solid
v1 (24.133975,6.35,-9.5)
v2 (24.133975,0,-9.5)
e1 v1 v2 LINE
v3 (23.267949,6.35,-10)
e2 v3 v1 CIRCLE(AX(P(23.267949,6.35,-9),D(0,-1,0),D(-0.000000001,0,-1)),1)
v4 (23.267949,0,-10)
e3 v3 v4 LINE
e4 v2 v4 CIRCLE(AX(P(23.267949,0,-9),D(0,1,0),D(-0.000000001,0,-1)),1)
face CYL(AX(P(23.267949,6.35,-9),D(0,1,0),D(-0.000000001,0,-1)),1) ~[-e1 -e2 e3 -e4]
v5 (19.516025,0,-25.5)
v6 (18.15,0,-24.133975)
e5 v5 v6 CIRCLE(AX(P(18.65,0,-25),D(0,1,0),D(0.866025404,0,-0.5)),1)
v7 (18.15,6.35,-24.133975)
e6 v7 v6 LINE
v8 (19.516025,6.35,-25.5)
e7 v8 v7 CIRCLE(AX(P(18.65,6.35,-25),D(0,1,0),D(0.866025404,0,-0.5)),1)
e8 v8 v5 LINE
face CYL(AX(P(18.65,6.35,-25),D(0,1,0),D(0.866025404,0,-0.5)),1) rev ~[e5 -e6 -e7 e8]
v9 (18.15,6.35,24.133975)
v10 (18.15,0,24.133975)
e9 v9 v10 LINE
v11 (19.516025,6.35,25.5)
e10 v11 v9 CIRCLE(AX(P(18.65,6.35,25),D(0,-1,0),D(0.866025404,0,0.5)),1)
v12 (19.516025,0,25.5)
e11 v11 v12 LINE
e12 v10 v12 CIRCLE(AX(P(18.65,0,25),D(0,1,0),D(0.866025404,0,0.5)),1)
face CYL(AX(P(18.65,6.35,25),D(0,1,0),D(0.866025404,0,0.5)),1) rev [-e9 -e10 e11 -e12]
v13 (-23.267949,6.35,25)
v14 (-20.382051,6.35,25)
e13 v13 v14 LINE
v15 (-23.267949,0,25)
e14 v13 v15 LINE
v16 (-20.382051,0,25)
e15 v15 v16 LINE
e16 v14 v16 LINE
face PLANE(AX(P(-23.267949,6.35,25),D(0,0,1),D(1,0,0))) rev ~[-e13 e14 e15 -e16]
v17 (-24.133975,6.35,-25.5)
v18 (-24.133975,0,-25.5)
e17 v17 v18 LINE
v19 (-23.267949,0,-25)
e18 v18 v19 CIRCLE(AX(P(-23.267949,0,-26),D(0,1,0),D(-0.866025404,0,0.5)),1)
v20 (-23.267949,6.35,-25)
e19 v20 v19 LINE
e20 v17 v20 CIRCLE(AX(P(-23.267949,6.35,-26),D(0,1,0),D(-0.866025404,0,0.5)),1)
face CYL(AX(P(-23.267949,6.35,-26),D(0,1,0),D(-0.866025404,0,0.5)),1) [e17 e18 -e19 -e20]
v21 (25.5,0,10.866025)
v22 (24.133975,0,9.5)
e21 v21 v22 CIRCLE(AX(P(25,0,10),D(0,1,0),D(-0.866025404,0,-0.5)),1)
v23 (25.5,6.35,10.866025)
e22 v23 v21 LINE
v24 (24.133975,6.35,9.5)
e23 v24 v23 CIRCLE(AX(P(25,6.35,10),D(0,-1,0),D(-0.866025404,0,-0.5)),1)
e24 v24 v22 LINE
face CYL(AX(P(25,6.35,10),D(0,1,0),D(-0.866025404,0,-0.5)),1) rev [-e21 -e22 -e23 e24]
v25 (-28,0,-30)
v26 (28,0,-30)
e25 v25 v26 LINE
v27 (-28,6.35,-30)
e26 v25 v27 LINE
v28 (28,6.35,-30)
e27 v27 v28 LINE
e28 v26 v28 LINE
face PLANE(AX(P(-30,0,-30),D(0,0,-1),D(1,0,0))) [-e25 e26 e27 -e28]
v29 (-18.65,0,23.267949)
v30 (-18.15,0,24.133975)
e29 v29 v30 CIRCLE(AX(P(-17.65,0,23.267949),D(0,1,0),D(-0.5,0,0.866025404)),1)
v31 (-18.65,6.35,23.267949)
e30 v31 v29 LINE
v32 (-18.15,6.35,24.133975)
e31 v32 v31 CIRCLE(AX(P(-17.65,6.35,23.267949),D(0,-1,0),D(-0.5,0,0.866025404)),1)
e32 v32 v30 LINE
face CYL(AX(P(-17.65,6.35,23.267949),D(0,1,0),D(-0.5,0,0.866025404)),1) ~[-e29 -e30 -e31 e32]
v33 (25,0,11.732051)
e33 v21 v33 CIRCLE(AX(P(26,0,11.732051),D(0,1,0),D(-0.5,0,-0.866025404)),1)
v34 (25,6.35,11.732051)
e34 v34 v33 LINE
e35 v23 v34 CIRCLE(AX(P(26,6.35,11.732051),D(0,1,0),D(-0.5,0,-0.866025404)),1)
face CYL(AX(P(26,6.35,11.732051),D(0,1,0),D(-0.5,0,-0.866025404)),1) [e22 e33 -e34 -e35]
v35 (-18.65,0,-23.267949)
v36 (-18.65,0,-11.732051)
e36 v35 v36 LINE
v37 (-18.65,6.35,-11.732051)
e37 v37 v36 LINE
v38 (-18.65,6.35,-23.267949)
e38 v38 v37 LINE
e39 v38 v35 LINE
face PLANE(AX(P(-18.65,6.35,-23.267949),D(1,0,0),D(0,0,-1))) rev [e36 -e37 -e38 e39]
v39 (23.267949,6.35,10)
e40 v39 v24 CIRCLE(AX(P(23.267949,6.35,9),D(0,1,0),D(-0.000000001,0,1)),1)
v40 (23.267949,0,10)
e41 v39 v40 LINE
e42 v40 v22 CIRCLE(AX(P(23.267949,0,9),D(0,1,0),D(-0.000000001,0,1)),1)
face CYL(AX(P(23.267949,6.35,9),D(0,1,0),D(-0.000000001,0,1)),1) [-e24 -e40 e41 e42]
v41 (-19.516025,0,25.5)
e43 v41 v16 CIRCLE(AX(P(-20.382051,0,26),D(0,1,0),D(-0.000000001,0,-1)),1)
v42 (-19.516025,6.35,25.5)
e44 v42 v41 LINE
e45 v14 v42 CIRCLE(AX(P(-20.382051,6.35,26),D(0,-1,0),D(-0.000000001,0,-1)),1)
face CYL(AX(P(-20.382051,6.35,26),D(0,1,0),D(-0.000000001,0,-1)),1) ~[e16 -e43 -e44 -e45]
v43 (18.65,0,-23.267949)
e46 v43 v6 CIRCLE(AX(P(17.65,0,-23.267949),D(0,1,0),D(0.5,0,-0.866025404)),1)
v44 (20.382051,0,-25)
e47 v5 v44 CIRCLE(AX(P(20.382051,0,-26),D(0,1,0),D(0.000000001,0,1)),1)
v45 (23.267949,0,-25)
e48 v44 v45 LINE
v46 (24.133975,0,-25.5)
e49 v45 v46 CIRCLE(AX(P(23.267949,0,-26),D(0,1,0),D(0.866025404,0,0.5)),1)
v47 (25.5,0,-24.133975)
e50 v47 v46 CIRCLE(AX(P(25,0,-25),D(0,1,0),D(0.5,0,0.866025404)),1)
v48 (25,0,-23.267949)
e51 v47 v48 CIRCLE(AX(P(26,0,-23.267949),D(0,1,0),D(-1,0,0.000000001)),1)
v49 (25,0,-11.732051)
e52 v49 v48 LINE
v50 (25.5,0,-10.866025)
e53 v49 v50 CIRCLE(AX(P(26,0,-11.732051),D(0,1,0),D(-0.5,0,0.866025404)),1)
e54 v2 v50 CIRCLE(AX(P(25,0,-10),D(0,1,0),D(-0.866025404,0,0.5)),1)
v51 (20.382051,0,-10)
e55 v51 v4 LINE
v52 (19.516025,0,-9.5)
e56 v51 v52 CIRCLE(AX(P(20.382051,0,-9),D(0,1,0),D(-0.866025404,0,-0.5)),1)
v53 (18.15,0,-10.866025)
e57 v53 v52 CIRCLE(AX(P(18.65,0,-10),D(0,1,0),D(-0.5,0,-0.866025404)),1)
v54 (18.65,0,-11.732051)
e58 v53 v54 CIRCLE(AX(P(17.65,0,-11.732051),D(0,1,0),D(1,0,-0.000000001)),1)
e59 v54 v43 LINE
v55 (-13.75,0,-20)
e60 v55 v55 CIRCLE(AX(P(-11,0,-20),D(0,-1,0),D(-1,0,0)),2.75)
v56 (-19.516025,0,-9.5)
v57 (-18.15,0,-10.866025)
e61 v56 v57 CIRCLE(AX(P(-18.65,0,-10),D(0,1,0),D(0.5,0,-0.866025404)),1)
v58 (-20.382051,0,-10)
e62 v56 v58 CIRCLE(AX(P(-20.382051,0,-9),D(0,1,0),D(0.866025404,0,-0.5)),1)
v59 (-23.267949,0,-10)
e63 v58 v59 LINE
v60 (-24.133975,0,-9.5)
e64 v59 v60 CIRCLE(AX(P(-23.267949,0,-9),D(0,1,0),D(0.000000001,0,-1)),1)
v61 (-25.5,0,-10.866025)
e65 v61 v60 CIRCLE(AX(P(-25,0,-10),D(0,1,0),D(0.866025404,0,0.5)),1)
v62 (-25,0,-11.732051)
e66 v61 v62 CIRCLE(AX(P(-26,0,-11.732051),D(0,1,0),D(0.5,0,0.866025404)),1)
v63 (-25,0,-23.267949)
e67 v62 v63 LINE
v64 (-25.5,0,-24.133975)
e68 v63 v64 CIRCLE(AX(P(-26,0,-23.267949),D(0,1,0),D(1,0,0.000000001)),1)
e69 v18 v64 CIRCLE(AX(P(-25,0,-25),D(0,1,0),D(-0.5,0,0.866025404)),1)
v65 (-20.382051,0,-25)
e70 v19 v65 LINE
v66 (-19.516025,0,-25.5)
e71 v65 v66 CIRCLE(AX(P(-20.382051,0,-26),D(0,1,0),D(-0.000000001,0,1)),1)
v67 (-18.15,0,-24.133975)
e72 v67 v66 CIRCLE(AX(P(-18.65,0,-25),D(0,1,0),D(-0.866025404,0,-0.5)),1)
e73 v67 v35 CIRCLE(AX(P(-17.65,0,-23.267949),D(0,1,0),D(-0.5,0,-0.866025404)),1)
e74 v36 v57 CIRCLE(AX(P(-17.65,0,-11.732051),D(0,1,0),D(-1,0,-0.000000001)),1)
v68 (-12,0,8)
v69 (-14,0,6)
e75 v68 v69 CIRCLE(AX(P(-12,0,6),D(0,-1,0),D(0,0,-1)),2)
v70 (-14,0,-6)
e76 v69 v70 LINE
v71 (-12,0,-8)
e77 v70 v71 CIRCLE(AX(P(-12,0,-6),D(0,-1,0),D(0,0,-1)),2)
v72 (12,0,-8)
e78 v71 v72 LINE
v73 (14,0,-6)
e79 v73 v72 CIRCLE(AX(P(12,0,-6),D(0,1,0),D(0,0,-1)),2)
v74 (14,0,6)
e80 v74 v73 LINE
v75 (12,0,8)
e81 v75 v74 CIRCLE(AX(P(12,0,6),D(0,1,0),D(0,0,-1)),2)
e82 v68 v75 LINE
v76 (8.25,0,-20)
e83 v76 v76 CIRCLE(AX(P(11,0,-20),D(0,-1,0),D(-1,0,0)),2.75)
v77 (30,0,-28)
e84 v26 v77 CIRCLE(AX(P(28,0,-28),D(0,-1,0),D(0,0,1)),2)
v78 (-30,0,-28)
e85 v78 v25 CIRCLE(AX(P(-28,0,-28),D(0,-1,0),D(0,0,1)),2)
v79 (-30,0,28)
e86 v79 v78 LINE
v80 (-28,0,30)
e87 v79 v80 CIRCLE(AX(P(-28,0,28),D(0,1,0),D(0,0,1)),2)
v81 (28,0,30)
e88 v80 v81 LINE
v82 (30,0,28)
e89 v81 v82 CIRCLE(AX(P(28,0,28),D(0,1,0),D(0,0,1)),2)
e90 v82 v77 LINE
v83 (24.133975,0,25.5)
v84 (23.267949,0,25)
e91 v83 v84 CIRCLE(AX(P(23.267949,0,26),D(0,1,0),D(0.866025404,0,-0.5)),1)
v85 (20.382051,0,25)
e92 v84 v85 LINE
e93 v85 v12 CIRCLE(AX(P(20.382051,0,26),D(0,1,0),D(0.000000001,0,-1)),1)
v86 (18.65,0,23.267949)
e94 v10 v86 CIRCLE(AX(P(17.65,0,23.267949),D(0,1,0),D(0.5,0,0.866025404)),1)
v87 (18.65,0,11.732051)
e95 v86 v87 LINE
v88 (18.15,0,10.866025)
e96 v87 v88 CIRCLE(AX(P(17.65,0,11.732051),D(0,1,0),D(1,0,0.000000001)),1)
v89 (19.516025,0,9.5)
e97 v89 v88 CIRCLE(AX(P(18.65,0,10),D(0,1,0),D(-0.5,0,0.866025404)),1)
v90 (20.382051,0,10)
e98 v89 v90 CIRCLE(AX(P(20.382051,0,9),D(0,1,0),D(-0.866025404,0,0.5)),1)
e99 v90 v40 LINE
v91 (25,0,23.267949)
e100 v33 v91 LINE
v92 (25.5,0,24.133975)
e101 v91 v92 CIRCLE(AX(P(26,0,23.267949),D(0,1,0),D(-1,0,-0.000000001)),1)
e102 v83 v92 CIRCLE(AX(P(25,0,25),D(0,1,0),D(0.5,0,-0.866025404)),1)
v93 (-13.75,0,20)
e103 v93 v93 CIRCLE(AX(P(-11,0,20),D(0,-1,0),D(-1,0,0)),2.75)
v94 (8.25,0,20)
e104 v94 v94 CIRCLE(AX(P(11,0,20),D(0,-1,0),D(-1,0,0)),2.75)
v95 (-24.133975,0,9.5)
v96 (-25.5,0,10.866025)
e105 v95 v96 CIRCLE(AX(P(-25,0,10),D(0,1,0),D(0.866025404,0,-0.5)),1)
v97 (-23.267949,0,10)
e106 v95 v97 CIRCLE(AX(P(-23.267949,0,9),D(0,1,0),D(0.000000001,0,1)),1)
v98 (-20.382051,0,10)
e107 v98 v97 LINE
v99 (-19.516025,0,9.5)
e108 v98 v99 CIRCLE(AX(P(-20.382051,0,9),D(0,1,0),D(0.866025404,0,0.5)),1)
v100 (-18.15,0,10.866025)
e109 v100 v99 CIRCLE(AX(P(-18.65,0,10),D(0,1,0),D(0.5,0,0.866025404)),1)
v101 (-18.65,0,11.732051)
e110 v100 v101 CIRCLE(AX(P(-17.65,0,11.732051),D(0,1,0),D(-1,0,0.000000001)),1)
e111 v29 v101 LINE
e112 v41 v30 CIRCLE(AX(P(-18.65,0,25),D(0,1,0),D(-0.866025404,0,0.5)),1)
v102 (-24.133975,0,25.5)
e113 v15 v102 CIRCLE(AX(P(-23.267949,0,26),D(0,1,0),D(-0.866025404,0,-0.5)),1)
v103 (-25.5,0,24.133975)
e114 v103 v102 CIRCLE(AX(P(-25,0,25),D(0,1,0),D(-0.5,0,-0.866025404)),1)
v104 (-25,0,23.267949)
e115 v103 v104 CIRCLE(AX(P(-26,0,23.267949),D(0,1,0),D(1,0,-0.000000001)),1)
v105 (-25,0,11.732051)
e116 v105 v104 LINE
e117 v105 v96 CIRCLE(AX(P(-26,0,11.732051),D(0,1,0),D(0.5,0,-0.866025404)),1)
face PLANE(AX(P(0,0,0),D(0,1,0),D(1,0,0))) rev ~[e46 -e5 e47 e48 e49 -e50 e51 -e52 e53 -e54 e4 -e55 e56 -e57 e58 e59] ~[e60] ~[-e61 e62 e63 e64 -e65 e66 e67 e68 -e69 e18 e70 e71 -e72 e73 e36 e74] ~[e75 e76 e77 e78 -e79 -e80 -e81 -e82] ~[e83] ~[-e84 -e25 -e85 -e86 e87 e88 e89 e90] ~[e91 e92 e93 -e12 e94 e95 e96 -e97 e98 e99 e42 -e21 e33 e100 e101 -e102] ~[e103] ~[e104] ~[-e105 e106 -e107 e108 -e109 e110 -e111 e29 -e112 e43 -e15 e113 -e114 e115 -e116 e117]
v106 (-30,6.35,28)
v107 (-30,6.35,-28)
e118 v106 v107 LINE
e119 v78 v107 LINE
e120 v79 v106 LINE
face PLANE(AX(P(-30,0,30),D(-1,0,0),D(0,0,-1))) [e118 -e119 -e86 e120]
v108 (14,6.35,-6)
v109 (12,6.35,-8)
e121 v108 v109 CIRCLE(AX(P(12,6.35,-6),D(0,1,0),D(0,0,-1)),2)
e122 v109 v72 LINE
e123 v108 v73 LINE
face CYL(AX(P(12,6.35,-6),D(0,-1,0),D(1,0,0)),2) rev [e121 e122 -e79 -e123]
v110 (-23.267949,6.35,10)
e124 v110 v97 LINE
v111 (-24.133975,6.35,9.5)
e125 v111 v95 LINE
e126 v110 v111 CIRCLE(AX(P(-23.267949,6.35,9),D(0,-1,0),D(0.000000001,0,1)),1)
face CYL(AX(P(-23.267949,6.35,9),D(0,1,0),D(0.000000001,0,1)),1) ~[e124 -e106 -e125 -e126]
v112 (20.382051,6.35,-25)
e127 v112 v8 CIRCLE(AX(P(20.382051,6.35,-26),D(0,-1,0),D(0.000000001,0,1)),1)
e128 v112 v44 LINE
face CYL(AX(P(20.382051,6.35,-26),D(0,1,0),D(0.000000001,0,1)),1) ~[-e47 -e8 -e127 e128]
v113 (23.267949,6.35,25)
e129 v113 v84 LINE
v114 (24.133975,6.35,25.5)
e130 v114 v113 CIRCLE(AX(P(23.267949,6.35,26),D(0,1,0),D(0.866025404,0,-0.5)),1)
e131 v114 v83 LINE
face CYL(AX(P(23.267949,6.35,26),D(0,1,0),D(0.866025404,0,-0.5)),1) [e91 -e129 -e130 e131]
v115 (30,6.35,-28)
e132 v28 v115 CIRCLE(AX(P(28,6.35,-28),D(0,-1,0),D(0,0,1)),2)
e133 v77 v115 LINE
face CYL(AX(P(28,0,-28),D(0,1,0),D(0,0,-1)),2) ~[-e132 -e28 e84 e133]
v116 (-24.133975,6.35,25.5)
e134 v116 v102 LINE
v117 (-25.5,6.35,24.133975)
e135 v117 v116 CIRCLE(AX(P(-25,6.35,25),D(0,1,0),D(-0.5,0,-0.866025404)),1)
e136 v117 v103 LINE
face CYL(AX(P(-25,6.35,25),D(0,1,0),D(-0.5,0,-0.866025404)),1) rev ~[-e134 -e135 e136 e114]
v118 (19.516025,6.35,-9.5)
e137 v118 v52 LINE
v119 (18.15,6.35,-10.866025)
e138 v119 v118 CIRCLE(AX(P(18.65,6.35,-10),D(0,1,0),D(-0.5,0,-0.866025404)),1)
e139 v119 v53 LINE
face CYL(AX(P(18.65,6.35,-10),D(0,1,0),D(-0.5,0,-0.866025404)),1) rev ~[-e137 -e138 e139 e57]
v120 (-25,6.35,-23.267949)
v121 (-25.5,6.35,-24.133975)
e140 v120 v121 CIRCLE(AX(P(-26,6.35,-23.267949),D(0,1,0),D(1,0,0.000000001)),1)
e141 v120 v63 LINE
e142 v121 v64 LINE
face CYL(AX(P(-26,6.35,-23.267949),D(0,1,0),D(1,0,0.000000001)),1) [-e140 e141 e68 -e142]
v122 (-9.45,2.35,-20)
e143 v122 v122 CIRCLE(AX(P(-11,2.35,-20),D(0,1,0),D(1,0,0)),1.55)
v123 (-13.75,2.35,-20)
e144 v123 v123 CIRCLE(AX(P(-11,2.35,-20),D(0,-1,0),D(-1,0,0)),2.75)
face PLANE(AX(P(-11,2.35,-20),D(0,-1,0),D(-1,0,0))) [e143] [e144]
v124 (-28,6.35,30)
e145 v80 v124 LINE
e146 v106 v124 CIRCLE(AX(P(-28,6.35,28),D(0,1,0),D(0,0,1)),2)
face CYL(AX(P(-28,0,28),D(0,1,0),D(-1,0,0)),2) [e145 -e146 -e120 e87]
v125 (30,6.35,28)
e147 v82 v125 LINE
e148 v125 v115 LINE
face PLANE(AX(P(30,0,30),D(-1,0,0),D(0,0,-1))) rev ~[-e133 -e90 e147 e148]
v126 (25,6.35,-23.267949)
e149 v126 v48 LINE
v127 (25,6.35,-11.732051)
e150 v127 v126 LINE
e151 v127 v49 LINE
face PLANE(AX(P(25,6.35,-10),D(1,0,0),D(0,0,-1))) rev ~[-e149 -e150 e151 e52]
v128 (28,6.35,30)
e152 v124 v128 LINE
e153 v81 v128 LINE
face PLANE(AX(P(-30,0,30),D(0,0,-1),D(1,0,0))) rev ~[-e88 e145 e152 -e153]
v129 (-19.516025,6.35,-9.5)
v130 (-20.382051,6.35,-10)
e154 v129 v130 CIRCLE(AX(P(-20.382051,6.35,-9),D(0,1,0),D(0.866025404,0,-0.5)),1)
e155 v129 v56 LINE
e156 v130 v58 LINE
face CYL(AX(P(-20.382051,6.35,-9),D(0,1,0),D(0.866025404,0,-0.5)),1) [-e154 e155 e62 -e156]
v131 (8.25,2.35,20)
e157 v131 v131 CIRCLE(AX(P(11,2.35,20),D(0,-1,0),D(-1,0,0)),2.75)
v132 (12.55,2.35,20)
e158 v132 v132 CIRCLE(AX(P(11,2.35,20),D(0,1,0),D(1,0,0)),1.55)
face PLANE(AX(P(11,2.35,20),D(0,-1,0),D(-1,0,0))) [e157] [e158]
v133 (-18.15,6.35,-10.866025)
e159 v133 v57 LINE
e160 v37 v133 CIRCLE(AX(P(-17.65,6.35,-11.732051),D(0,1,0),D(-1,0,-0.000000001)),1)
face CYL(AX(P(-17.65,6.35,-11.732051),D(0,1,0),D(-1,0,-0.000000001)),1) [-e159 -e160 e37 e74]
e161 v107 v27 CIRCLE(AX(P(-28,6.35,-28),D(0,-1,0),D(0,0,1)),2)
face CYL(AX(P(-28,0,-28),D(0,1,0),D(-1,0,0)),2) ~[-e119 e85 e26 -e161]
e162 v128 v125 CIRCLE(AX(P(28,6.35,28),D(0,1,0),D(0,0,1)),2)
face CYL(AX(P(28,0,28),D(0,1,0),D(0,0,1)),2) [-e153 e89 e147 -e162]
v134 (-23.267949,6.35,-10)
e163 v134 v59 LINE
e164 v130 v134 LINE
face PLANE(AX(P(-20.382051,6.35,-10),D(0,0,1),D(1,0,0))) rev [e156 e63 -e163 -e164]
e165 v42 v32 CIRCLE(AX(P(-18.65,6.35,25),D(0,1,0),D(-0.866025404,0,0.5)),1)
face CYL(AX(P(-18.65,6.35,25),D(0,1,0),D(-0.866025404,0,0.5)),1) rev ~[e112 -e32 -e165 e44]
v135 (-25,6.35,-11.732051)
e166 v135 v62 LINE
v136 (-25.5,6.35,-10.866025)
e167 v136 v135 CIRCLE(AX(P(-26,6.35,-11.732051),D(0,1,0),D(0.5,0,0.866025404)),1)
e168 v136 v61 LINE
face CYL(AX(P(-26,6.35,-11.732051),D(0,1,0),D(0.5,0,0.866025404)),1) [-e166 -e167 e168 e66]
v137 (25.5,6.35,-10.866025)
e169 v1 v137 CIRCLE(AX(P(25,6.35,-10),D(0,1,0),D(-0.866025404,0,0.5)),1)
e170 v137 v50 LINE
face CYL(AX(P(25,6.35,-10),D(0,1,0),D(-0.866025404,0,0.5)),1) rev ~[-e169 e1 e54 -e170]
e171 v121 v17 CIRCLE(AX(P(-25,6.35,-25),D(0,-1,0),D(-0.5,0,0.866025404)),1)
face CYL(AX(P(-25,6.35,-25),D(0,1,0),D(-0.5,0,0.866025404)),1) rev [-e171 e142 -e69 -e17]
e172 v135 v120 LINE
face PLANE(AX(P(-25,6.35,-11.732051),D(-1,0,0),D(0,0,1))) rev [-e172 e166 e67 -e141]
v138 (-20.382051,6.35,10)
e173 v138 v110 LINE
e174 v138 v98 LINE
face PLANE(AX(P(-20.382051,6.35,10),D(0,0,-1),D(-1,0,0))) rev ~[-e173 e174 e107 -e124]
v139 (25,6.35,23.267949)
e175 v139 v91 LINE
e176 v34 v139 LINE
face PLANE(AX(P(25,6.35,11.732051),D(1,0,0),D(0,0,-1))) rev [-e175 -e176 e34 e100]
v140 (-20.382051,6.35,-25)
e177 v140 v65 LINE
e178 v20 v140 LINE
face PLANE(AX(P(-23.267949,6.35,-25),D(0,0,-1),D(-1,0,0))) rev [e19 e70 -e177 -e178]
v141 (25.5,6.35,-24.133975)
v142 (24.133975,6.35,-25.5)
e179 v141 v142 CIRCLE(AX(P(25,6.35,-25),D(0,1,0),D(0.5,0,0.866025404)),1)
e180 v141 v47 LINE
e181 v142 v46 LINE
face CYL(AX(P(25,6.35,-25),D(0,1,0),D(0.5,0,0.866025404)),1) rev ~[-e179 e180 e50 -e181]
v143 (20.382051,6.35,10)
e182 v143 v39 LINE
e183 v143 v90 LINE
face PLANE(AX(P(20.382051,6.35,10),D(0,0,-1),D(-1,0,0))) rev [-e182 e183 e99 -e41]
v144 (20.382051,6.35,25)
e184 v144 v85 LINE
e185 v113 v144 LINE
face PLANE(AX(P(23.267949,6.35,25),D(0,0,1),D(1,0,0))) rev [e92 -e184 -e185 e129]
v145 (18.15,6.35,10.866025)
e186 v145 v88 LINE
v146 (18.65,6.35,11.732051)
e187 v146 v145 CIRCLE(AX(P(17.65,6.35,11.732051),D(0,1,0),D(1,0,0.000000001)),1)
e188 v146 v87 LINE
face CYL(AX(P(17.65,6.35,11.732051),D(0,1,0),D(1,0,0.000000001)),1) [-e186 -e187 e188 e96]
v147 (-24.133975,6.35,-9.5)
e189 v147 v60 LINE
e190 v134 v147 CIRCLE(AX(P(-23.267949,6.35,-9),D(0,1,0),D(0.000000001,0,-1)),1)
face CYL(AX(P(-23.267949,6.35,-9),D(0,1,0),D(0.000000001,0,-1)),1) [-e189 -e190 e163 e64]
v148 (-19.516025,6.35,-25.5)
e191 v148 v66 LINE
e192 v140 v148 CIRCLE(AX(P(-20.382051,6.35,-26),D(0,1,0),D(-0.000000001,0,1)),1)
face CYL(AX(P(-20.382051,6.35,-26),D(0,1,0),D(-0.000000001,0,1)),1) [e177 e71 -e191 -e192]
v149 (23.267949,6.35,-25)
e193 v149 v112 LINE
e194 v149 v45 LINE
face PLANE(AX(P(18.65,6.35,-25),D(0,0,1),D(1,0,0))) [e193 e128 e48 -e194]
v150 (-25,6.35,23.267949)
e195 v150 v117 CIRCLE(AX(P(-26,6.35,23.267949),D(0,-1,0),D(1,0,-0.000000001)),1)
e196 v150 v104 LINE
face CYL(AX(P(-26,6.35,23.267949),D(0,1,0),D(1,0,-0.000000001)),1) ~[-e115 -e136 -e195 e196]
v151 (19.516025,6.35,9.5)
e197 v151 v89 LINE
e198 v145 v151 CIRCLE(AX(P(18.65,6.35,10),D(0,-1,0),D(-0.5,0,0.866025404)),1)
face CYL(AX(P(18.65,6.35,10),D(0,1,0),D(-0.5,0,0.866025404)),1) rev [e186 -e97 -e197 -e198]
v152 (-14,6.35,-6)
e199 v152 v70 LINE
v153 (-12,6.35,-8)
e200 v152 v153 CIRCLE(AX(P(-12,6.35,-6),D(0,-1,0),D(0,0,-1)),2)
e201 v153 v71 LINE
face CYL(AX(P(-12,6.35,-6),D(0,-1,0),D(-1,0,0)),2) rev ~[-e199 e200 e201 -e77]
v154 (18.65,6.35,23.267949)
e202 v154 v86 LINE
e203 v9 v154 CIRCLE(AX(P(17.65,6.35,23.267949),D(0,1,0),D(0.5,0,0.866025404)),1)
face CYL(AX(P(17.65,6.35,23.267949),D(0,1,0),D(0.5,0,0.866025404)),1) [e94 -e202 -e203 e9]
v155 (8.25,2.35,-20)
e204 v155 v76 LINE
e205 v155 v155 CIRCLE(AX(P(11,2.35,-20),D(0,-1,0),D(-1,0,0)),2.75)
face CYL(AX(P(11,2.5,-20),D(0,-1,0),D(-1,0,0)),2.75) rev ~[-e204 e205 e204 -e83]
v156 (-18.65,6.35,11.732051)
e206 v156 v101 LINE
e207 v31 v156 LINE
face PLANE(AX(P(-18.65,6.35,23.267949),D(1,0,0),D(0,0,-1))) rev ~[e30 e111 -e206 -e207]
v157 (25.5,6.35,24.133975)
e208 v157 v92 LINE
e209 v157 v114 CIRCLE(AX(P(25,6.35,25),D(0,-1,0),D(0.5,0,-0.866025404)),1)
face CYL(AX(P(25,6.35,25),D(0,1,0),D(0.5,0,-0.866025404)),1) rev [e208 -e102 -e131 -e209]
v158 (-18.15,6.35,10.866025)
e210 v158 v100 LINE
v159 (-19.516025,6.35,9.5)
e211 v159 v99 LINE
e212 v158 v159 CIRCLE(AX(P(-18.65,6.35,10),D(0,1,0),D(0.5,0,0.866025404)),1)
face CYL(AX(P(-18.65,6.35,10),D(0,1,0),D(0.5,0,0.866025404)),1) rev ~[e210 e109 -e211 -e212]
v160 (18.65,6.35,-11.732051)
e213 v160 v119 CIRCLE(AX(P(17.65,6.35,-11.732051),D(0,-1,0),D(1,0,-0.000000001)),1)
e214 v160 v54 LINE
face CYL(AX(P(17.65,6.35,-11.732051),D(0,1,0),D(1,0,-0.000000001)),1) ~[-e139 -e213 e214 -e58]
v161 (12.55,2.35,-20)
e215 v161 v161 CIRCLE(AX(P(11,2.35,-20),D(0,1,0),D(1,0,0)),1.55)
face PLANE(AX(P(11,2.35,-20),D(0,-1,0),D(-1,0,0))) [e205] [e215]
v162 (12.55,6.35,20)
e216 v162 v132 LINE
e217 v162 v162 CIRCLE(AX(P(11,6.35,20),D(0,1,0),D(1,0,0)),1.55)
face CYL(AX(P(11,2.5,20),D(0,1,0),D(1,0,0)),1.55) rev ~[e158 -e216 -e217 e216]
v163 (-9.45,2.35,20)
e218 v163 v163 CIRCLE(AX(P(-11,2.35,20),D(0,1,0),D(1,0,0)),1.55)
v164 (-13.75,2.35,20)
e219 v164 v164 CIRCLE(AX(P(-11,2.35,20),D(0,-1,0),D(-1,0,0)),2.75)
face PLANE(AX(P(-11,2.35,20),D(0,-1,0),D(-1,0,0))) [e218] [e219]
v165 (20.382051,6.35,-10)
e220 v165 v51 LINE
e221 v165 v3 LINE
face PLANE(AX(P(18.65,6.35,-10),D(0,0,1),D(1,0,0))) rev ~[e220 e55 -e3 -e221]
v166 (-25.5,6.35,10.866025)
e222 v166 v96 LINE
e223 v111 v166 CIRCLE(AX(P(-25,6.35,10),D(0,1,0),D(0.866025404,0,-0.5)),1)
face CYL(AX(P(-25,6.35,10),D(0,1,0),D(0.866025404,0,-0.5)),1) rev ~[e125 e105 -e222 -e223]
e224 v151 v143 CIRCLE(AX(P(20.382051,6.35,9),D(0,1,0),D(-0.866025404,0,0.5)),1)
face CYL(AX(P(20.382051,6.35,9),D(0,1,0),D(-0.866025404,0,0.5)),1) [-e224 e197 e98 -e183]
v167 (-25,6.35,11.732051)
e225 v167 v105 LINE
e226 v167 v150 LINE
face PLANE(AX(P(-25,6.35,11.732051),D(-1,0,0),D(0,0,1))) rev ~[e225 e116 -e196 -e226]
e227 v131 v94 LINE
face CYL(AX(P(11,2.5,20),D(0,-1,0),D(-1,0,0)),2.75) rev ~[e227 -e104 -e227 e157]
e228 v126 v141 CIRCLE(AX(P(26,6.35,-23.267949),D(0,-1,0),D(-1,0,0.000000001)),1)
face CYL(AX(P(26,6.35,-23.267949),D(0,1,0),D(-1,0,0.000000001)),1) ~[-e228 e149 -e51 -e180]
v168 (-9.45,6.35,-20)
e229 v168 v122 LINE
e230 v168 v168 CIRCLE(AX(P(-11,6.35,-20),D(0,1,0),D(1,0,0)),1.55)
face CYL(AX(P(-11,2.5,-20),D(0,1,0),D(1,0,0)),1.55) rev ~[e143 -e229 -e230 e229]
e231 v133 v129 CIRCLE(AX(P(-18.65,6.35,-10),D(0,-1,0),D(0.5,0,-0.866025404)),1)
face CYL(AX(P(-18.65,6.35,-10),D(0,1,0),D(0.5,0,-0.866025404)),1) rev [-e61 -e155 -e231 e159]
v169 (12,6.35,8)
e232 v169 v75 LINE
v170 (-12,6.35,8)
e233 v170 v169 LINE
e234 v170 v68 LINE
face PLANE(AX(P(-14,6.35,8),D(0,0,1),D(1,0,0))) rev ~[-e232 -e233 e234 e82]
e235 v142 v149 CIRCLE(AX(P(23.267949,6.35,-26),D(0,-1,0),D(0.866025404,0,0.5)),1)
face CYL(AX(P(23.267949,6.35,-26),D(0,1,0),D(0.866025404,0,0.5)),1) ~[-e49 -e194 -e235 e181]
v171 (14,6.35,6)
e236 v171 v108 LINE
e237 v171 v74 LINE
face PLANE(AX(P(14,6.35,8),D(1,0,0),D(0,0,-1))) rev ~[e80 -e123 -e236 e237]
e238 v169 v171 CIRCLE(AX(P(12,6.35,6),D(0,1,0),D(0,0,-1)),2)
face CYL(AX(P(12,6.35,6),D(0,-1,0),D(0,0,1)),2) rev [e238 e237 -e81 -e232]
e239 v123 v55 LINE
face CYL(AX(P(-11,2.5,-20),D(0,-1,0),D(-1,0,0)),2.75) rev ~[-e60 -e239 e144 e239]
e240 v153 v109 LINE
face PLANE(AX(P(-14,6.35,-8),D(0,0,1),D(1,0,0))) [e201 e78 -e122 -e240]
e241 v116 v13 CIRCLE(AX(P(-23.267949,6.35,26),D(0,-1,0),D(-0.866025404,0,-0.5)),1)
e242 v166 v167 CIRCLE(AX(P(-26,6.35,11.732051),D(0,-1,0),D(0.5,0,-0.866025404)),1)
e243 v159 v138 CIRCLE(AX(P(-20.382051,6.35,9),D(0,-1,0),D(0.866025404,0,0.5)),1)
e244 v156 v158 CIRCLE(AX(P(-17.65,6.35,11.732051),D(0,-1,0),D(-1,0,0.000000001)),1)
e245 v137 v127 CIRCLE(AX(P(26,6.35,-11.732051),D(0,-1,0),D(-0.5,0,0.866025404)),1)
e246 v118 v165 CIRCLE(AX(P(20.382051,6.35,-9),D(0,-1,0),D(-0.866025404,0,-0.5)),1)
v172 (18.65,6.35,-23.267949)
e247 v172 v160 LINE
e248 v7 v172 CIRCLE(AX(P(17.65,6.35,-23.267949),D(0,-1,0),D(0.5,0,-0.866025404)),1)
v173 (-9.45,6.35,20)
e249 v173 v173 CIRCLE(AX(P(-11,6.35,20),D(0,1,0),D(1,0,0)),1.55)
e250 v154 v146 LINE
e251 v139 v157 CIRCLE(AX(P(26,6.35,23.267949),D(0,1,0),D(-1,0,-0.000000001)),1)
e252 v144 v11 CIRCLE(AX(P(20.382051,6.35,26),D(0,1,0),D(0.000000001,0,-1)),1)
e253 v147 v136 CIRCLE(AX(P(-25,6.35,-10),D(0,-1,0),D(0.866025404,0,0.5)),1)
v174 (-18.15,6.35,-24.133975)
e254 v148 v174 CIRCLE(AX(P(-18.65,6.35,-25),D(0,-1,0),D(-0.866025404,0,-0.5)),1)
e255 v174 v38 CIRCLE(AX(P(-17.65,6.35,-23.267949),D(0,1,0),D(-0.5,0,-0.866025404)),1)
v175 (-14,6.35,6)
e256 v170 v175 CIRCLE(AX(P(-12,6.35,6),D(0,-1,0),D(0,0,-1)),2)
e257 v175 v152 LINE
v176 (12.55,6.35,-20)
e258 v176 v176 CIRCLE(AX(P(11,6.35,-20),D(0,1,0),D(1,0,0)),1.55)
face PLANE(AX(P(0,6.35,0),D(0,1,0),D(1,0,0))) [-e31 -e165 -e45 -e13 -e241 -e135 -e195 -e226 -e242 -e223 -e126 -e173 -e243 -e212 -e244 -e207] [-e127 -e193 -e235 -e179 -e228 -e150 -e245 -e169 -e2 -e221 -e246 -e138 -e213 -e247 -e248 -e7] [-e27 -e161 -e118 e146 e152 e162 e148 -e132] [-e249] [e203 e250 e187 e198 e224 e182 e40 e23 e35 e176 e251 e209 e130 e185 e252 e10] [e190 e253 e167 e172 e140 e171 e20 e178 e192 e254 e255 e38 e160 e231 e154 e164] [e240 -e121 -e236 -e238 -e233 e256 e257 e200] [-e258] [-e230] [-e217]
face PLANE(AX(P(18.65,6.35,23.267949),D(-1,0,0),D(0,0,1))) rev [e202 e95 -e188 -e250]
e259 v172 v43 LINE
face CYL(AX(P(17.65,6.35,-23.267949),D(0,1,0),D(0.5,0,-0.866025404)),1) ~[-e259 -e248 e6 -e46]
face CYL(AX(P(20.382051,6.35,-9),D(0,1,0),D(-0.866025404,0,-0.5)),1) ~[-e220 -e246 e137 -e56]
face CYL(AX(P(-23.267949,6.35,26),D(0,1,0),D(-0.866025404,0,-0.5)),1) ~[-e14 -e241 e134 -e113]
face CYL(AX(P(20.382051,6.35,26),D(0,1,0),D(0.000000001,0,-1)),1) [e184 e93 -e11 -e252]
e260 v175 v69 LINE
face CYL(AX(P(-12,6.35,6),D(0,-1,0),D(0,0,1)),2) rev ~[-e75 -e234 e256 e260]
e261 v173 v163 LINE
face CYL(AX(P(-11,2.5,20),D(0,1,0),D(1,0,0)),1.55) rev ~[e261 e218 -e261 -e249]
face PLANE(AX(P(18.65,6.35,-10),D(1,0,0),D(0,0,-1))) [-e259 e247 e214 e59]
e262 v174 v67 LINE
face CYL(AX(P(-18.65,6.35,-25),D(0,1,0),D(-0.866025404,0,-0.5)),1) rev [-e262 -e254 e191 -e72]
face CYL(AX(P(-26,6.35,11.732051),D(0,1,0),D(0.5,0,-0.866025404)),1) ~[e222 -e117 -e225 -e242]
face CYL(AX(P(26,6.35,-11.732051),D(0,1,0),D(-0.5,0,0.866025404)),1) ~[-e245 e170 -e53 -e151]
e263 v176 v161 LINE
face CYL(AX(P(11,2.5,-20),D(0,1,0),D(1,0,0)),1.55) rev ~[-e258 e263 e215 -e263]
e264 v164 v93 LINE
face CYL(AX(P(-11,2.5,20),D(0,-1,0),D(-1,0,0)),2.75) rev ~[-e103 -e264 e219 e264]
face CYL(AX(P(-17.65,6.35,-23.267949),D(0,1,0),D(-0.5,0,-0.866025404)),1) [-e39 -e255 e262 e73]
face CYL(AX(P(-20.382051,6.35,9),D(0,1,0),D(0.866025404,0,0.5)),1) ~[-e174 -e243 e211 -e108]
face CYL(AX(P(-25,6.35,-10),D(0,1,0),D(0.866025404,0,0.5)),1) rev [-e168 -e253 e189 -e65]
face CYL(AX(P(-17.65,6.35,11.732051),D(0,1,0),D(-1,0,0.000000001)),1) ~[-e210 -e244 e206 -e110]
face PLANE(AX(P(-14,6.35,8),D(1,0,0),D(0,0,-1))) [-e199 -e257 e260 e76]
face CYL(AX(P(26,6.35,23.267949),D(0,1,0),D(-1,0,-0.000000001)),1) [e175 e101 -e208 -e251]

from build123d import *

# Parameters (mm, degrees)
SKETCH1_W                        = 60
SKETCH1_H                        = 60
BOSS_EXTRUDE1_DEPTH              = 6.35
SKETCH2_W                        = 28
SKETCH2_H                        = 16
CUT_EXTRUDE1_DEPTH               = 43.898980174
CBORE_FOR_M2_5_SHCS1_D           = 3.1
CBORE_FOR_M2_5_SHCS1_CBORE_D     = 5.5
CBORE_FOR_M2_5_SHCS1_CBORE_DEPTH = 2.5
MOVE_FACE2_BY                    = 0.15
MOVE_FACE2_2_BY                  = 0.15
MOVE_FACE2_3_BY                  = 0.15
MOVE_FACE2_4_BY                  = 0.15
SKETCH5_W                        = 6.35
SKETCH5_H                        = 15
CUT_EXTRUDE2_DEPTH               = 43.898980174
CUT_EXTRUDE3_DEPTH               = 43.898980174
MIRROR2_COPY_1_DEPTH             = 43.898980174
FILLET1_R                        = 2


with BuildPart() as part:
    # Sketch1 → Boss-Extrude1 (new body)
    with BuildSketch(Plane(origin=(0, 0, 0), x_dir=(1, 0, 0), z_dir=(0, 1, 0))):
        Rectangle(SKETCH1_W, SKETCH1_H)
    extrude(amount=BOSS_EXTRUDE1_DEPTH)

    # Sketch2 → Cut-Extrude1 (cut, through all)
    with BuildSketch(Plane(origin=(0, 6.35, 0), x_dir=(1, 0, 0), z_dir=(0, 1, 0))):
        Rectangle(SKETCH2_W, SKETCH2_H)
    extrude(amount=-CUT_EXTRUDE1_DEPTH, mode=Mode.SUBTRACT)

    # CBORE for M2.5 SHCS1 (through all)
    with Locations(Plane(origin=(0, 0, 0), x_dir=(-1, 0, 0), z_dir=(0, -1, 0))):
        with Locations((-11, 20), (11, 20), (-11, -20), (11, -20)):
            CounterBoreHole(CBORE_FOR_M2_5_SHCS1_D / 2, CBORE_FOR_M2_5_SHCS1_CBORE_D / 2, CBORE_FOR_M2_5_SHCS1_CBORE_DEPTH)

    # Move Face2: a face moved outward by 0.15
    extrude(part.faces().sort_by_distance((11, 2.5, -17.8))[0], amount=MOVE_FACE2_BY, dir=(0, -1, 0))

    # Move Face2 2: a face moved outward by 0.15
    extrude(part.faces().sort_by_distance((11, 2.5, 22.2))[0], amount=MOVE_FACE2_2_BY, dir=(0, -1, 0))

    # Move Face2 3: a face moved outward by 0.15
    extrude(part.faces().sort_by_distance((-11, 2.5, 22.2))[0], amount=MOVE_FACE2_3_BY, dir=(0, -1, 0))

    # Move Face2 4: a face moved outward by 0.15
    extrude(part.faces().sort_by_distance((-11, 2.5, -17.8))[0], amount=MOVE_FACE2_4_BY, dir=(0, -1, 0))

    # Sketch5 → Cut-Extrude2 (cut, through all)
    with BuildSketch(Plane(origin=(0, 6.35, 0), x_dir=(1, 0, 0), z_dir=(0, 1, 0))):
        with Locations((21.825, 17.5)):
            Rectangle(SKETCH5_W, SKETCH5_H)
    extrude(amount=-CUT_EXTRUDE2_DEPTH, mode=Mode.SUBTRACT)

    # Sketch6 → Cut-Extrude3 (cut, through all)
    with BuildSketch(Plane(origin=(0, 6.35, 0), x_dir=(1, 0, 0), z_dir=(0, 1, 0))):
        with BuildLine():
            Line((23.267949192, 25), (20.382050808, 25))
            ThreePointArc((20.382050808, 25), (19.882050808, 25.133974596), (19.516025404, 25.5))
            ThreePointArc((19.516025404, 25.5), (17.942893219, 25.707106781), (18.15, 24.133974596))
            ThreePointArc((18.15, 24.133974596), (18.516025404, 23.767949192), (18.65, 23.267949192))
            Line((18.65, 23.267949192), (18.65, 11.732050808))
            ThreePointArc((18.65, 11.732050808), (18.516025404, 11.232050808), (18.15, 10.866025404))
            ThreePointArc((18.15, 10.866025404), (17.942893219, 9.292893219), (19.516025404, 9.5))
            ThreePointArc((19.516025404, 9.5), (19.882050808, 9.866025404), (20.382050808, 10))
            Line((20.382050808, 10), (23.267949192, 10))
            ThreePointArc((23.267949192, 10), (23.767949192, 9.866025404), (24.133974596, 9.5))
            ThreePointArc((24.133974596, 9.5), (25.707106781, 9.292893219), (25.5, 10.866025404))
            ThreePointArc((25.5, 10.866025404), (25.133974596, 11.232050808), (25, 11.732050808))
            Line((25, 11.732050808), (25, 23.267949192))
            ThreePointArc((25, 23.267949192), (25.133974596, 23.767949192), (25.5, 24.133974596))
            ThreePointArc((25.5, 24.133974596), (25.707106781, 25.707106781), (24.133974596, 25.5))
            ThreePointArc((24.133974596, 25.5), (23.767949192, 25.133974596), (23.267949192, 25))
        make_face()
    cut_extrude3 = extrude(amount=-CUT_EXTRUDE3_DEPTH, mode=Mode.SUBTRACT)

    # Mirror1: Cut-Extrude3 across plane
    add(cut_extrude3.mirror(Plane.XY), mode=Mode.SUBTRACT)

    # Mirror2: Cut-Extrude3 across plane
    add(cut_extrude3.mirror(Plane(origin=(0, 0, 0), x_dir=(0, 0, 1), z_dir=(1, 0, 0))), mode=Mode.SUBTRACT)

    # Mirror2 copy 1 sketch → Mirror2 copy 1 (cut, through all)
    with BuildSketch(Plane(origin=(0, 6.35, 0), x_dir=(-1, 0, 0), z_dir=(0, 1, 0))):
        with BuildLine():
            Line((23.267949192, 25), (20.382050808, 25))
            ThreePointArc((20.382050808, 25), (19.882050808, 25.133974596), (19.516025404, 25.5))
            ThreePointArc((19.516025404, 25.5), (17.942893219, 25.707106781), (18.15, 24.133974596))
            ThreePointArc((18.15, 24.133974596), (18.516025404, 23.767949192), (18.65, 23.267949192))
            Line((18.65, 23.267949192), (18.65, 11.732050808))
            ThreePointArc((18.65, 11.732050808), (18.516025404, 11.232050808), (18.15, 10.866025404))
            ThreePointArc((18.15, 10.866025404), (17.942893219, 9.292893219), (19.516025404, 9.5))
            ThreePointArc((19.516025404, 9.5), (19.882050808, 9.866025404), (20.382050808, 10))
            Line((20.382050808, 10), (23.267949192, 10))
            ThreePointArc((23.267949192, 10), (23.767949192, 9.866025404), (24.133974596, 9.5))
            ThreePointArc((24.133974596, 9.5), (25.707106781, 9.292893219), (25.5, 10.866025404))
            ThreePointArc((25.5, 10.866025404), (25.133974596, 11.232050808), (25, 11.732050808))
            Line((25, 11.732050808), (25, 23.267949192))
            ThreePointArc((25, 23.267949192), (25.133974596, 23.767949192), (25.5, 24.133974596))
            ThreePointArc((25.5, 24.133974596), (25.707106781, 25.707106781), (24.133974596, 25.5))
            ThreePointArc((24.133974596, 25.5), (23.767949192, 25.133974596), (23.267949192, 25))
        make_face()
    extrude(amount=-MIRROR2_COPY_1_DEPTH, mode=Mode.SUBTRACT)

    # Fillet1
    fillet1_edges = [part.edges().sort_by_distance(p)[0] for p in [
        (-14, 3.175, 8),
        (-14, 3.175, -8),
        (14, 3.175, -8),
        (14, 3.175, 8),
        (-30, 3.175, -30),
        (30, 3.175, -30),
        (30, 3.175, 30),
        (-30, 3.175, 30),
    ]]
    fillet(fillet1_edges, radius=FILLET1_R)


solid = part.part
